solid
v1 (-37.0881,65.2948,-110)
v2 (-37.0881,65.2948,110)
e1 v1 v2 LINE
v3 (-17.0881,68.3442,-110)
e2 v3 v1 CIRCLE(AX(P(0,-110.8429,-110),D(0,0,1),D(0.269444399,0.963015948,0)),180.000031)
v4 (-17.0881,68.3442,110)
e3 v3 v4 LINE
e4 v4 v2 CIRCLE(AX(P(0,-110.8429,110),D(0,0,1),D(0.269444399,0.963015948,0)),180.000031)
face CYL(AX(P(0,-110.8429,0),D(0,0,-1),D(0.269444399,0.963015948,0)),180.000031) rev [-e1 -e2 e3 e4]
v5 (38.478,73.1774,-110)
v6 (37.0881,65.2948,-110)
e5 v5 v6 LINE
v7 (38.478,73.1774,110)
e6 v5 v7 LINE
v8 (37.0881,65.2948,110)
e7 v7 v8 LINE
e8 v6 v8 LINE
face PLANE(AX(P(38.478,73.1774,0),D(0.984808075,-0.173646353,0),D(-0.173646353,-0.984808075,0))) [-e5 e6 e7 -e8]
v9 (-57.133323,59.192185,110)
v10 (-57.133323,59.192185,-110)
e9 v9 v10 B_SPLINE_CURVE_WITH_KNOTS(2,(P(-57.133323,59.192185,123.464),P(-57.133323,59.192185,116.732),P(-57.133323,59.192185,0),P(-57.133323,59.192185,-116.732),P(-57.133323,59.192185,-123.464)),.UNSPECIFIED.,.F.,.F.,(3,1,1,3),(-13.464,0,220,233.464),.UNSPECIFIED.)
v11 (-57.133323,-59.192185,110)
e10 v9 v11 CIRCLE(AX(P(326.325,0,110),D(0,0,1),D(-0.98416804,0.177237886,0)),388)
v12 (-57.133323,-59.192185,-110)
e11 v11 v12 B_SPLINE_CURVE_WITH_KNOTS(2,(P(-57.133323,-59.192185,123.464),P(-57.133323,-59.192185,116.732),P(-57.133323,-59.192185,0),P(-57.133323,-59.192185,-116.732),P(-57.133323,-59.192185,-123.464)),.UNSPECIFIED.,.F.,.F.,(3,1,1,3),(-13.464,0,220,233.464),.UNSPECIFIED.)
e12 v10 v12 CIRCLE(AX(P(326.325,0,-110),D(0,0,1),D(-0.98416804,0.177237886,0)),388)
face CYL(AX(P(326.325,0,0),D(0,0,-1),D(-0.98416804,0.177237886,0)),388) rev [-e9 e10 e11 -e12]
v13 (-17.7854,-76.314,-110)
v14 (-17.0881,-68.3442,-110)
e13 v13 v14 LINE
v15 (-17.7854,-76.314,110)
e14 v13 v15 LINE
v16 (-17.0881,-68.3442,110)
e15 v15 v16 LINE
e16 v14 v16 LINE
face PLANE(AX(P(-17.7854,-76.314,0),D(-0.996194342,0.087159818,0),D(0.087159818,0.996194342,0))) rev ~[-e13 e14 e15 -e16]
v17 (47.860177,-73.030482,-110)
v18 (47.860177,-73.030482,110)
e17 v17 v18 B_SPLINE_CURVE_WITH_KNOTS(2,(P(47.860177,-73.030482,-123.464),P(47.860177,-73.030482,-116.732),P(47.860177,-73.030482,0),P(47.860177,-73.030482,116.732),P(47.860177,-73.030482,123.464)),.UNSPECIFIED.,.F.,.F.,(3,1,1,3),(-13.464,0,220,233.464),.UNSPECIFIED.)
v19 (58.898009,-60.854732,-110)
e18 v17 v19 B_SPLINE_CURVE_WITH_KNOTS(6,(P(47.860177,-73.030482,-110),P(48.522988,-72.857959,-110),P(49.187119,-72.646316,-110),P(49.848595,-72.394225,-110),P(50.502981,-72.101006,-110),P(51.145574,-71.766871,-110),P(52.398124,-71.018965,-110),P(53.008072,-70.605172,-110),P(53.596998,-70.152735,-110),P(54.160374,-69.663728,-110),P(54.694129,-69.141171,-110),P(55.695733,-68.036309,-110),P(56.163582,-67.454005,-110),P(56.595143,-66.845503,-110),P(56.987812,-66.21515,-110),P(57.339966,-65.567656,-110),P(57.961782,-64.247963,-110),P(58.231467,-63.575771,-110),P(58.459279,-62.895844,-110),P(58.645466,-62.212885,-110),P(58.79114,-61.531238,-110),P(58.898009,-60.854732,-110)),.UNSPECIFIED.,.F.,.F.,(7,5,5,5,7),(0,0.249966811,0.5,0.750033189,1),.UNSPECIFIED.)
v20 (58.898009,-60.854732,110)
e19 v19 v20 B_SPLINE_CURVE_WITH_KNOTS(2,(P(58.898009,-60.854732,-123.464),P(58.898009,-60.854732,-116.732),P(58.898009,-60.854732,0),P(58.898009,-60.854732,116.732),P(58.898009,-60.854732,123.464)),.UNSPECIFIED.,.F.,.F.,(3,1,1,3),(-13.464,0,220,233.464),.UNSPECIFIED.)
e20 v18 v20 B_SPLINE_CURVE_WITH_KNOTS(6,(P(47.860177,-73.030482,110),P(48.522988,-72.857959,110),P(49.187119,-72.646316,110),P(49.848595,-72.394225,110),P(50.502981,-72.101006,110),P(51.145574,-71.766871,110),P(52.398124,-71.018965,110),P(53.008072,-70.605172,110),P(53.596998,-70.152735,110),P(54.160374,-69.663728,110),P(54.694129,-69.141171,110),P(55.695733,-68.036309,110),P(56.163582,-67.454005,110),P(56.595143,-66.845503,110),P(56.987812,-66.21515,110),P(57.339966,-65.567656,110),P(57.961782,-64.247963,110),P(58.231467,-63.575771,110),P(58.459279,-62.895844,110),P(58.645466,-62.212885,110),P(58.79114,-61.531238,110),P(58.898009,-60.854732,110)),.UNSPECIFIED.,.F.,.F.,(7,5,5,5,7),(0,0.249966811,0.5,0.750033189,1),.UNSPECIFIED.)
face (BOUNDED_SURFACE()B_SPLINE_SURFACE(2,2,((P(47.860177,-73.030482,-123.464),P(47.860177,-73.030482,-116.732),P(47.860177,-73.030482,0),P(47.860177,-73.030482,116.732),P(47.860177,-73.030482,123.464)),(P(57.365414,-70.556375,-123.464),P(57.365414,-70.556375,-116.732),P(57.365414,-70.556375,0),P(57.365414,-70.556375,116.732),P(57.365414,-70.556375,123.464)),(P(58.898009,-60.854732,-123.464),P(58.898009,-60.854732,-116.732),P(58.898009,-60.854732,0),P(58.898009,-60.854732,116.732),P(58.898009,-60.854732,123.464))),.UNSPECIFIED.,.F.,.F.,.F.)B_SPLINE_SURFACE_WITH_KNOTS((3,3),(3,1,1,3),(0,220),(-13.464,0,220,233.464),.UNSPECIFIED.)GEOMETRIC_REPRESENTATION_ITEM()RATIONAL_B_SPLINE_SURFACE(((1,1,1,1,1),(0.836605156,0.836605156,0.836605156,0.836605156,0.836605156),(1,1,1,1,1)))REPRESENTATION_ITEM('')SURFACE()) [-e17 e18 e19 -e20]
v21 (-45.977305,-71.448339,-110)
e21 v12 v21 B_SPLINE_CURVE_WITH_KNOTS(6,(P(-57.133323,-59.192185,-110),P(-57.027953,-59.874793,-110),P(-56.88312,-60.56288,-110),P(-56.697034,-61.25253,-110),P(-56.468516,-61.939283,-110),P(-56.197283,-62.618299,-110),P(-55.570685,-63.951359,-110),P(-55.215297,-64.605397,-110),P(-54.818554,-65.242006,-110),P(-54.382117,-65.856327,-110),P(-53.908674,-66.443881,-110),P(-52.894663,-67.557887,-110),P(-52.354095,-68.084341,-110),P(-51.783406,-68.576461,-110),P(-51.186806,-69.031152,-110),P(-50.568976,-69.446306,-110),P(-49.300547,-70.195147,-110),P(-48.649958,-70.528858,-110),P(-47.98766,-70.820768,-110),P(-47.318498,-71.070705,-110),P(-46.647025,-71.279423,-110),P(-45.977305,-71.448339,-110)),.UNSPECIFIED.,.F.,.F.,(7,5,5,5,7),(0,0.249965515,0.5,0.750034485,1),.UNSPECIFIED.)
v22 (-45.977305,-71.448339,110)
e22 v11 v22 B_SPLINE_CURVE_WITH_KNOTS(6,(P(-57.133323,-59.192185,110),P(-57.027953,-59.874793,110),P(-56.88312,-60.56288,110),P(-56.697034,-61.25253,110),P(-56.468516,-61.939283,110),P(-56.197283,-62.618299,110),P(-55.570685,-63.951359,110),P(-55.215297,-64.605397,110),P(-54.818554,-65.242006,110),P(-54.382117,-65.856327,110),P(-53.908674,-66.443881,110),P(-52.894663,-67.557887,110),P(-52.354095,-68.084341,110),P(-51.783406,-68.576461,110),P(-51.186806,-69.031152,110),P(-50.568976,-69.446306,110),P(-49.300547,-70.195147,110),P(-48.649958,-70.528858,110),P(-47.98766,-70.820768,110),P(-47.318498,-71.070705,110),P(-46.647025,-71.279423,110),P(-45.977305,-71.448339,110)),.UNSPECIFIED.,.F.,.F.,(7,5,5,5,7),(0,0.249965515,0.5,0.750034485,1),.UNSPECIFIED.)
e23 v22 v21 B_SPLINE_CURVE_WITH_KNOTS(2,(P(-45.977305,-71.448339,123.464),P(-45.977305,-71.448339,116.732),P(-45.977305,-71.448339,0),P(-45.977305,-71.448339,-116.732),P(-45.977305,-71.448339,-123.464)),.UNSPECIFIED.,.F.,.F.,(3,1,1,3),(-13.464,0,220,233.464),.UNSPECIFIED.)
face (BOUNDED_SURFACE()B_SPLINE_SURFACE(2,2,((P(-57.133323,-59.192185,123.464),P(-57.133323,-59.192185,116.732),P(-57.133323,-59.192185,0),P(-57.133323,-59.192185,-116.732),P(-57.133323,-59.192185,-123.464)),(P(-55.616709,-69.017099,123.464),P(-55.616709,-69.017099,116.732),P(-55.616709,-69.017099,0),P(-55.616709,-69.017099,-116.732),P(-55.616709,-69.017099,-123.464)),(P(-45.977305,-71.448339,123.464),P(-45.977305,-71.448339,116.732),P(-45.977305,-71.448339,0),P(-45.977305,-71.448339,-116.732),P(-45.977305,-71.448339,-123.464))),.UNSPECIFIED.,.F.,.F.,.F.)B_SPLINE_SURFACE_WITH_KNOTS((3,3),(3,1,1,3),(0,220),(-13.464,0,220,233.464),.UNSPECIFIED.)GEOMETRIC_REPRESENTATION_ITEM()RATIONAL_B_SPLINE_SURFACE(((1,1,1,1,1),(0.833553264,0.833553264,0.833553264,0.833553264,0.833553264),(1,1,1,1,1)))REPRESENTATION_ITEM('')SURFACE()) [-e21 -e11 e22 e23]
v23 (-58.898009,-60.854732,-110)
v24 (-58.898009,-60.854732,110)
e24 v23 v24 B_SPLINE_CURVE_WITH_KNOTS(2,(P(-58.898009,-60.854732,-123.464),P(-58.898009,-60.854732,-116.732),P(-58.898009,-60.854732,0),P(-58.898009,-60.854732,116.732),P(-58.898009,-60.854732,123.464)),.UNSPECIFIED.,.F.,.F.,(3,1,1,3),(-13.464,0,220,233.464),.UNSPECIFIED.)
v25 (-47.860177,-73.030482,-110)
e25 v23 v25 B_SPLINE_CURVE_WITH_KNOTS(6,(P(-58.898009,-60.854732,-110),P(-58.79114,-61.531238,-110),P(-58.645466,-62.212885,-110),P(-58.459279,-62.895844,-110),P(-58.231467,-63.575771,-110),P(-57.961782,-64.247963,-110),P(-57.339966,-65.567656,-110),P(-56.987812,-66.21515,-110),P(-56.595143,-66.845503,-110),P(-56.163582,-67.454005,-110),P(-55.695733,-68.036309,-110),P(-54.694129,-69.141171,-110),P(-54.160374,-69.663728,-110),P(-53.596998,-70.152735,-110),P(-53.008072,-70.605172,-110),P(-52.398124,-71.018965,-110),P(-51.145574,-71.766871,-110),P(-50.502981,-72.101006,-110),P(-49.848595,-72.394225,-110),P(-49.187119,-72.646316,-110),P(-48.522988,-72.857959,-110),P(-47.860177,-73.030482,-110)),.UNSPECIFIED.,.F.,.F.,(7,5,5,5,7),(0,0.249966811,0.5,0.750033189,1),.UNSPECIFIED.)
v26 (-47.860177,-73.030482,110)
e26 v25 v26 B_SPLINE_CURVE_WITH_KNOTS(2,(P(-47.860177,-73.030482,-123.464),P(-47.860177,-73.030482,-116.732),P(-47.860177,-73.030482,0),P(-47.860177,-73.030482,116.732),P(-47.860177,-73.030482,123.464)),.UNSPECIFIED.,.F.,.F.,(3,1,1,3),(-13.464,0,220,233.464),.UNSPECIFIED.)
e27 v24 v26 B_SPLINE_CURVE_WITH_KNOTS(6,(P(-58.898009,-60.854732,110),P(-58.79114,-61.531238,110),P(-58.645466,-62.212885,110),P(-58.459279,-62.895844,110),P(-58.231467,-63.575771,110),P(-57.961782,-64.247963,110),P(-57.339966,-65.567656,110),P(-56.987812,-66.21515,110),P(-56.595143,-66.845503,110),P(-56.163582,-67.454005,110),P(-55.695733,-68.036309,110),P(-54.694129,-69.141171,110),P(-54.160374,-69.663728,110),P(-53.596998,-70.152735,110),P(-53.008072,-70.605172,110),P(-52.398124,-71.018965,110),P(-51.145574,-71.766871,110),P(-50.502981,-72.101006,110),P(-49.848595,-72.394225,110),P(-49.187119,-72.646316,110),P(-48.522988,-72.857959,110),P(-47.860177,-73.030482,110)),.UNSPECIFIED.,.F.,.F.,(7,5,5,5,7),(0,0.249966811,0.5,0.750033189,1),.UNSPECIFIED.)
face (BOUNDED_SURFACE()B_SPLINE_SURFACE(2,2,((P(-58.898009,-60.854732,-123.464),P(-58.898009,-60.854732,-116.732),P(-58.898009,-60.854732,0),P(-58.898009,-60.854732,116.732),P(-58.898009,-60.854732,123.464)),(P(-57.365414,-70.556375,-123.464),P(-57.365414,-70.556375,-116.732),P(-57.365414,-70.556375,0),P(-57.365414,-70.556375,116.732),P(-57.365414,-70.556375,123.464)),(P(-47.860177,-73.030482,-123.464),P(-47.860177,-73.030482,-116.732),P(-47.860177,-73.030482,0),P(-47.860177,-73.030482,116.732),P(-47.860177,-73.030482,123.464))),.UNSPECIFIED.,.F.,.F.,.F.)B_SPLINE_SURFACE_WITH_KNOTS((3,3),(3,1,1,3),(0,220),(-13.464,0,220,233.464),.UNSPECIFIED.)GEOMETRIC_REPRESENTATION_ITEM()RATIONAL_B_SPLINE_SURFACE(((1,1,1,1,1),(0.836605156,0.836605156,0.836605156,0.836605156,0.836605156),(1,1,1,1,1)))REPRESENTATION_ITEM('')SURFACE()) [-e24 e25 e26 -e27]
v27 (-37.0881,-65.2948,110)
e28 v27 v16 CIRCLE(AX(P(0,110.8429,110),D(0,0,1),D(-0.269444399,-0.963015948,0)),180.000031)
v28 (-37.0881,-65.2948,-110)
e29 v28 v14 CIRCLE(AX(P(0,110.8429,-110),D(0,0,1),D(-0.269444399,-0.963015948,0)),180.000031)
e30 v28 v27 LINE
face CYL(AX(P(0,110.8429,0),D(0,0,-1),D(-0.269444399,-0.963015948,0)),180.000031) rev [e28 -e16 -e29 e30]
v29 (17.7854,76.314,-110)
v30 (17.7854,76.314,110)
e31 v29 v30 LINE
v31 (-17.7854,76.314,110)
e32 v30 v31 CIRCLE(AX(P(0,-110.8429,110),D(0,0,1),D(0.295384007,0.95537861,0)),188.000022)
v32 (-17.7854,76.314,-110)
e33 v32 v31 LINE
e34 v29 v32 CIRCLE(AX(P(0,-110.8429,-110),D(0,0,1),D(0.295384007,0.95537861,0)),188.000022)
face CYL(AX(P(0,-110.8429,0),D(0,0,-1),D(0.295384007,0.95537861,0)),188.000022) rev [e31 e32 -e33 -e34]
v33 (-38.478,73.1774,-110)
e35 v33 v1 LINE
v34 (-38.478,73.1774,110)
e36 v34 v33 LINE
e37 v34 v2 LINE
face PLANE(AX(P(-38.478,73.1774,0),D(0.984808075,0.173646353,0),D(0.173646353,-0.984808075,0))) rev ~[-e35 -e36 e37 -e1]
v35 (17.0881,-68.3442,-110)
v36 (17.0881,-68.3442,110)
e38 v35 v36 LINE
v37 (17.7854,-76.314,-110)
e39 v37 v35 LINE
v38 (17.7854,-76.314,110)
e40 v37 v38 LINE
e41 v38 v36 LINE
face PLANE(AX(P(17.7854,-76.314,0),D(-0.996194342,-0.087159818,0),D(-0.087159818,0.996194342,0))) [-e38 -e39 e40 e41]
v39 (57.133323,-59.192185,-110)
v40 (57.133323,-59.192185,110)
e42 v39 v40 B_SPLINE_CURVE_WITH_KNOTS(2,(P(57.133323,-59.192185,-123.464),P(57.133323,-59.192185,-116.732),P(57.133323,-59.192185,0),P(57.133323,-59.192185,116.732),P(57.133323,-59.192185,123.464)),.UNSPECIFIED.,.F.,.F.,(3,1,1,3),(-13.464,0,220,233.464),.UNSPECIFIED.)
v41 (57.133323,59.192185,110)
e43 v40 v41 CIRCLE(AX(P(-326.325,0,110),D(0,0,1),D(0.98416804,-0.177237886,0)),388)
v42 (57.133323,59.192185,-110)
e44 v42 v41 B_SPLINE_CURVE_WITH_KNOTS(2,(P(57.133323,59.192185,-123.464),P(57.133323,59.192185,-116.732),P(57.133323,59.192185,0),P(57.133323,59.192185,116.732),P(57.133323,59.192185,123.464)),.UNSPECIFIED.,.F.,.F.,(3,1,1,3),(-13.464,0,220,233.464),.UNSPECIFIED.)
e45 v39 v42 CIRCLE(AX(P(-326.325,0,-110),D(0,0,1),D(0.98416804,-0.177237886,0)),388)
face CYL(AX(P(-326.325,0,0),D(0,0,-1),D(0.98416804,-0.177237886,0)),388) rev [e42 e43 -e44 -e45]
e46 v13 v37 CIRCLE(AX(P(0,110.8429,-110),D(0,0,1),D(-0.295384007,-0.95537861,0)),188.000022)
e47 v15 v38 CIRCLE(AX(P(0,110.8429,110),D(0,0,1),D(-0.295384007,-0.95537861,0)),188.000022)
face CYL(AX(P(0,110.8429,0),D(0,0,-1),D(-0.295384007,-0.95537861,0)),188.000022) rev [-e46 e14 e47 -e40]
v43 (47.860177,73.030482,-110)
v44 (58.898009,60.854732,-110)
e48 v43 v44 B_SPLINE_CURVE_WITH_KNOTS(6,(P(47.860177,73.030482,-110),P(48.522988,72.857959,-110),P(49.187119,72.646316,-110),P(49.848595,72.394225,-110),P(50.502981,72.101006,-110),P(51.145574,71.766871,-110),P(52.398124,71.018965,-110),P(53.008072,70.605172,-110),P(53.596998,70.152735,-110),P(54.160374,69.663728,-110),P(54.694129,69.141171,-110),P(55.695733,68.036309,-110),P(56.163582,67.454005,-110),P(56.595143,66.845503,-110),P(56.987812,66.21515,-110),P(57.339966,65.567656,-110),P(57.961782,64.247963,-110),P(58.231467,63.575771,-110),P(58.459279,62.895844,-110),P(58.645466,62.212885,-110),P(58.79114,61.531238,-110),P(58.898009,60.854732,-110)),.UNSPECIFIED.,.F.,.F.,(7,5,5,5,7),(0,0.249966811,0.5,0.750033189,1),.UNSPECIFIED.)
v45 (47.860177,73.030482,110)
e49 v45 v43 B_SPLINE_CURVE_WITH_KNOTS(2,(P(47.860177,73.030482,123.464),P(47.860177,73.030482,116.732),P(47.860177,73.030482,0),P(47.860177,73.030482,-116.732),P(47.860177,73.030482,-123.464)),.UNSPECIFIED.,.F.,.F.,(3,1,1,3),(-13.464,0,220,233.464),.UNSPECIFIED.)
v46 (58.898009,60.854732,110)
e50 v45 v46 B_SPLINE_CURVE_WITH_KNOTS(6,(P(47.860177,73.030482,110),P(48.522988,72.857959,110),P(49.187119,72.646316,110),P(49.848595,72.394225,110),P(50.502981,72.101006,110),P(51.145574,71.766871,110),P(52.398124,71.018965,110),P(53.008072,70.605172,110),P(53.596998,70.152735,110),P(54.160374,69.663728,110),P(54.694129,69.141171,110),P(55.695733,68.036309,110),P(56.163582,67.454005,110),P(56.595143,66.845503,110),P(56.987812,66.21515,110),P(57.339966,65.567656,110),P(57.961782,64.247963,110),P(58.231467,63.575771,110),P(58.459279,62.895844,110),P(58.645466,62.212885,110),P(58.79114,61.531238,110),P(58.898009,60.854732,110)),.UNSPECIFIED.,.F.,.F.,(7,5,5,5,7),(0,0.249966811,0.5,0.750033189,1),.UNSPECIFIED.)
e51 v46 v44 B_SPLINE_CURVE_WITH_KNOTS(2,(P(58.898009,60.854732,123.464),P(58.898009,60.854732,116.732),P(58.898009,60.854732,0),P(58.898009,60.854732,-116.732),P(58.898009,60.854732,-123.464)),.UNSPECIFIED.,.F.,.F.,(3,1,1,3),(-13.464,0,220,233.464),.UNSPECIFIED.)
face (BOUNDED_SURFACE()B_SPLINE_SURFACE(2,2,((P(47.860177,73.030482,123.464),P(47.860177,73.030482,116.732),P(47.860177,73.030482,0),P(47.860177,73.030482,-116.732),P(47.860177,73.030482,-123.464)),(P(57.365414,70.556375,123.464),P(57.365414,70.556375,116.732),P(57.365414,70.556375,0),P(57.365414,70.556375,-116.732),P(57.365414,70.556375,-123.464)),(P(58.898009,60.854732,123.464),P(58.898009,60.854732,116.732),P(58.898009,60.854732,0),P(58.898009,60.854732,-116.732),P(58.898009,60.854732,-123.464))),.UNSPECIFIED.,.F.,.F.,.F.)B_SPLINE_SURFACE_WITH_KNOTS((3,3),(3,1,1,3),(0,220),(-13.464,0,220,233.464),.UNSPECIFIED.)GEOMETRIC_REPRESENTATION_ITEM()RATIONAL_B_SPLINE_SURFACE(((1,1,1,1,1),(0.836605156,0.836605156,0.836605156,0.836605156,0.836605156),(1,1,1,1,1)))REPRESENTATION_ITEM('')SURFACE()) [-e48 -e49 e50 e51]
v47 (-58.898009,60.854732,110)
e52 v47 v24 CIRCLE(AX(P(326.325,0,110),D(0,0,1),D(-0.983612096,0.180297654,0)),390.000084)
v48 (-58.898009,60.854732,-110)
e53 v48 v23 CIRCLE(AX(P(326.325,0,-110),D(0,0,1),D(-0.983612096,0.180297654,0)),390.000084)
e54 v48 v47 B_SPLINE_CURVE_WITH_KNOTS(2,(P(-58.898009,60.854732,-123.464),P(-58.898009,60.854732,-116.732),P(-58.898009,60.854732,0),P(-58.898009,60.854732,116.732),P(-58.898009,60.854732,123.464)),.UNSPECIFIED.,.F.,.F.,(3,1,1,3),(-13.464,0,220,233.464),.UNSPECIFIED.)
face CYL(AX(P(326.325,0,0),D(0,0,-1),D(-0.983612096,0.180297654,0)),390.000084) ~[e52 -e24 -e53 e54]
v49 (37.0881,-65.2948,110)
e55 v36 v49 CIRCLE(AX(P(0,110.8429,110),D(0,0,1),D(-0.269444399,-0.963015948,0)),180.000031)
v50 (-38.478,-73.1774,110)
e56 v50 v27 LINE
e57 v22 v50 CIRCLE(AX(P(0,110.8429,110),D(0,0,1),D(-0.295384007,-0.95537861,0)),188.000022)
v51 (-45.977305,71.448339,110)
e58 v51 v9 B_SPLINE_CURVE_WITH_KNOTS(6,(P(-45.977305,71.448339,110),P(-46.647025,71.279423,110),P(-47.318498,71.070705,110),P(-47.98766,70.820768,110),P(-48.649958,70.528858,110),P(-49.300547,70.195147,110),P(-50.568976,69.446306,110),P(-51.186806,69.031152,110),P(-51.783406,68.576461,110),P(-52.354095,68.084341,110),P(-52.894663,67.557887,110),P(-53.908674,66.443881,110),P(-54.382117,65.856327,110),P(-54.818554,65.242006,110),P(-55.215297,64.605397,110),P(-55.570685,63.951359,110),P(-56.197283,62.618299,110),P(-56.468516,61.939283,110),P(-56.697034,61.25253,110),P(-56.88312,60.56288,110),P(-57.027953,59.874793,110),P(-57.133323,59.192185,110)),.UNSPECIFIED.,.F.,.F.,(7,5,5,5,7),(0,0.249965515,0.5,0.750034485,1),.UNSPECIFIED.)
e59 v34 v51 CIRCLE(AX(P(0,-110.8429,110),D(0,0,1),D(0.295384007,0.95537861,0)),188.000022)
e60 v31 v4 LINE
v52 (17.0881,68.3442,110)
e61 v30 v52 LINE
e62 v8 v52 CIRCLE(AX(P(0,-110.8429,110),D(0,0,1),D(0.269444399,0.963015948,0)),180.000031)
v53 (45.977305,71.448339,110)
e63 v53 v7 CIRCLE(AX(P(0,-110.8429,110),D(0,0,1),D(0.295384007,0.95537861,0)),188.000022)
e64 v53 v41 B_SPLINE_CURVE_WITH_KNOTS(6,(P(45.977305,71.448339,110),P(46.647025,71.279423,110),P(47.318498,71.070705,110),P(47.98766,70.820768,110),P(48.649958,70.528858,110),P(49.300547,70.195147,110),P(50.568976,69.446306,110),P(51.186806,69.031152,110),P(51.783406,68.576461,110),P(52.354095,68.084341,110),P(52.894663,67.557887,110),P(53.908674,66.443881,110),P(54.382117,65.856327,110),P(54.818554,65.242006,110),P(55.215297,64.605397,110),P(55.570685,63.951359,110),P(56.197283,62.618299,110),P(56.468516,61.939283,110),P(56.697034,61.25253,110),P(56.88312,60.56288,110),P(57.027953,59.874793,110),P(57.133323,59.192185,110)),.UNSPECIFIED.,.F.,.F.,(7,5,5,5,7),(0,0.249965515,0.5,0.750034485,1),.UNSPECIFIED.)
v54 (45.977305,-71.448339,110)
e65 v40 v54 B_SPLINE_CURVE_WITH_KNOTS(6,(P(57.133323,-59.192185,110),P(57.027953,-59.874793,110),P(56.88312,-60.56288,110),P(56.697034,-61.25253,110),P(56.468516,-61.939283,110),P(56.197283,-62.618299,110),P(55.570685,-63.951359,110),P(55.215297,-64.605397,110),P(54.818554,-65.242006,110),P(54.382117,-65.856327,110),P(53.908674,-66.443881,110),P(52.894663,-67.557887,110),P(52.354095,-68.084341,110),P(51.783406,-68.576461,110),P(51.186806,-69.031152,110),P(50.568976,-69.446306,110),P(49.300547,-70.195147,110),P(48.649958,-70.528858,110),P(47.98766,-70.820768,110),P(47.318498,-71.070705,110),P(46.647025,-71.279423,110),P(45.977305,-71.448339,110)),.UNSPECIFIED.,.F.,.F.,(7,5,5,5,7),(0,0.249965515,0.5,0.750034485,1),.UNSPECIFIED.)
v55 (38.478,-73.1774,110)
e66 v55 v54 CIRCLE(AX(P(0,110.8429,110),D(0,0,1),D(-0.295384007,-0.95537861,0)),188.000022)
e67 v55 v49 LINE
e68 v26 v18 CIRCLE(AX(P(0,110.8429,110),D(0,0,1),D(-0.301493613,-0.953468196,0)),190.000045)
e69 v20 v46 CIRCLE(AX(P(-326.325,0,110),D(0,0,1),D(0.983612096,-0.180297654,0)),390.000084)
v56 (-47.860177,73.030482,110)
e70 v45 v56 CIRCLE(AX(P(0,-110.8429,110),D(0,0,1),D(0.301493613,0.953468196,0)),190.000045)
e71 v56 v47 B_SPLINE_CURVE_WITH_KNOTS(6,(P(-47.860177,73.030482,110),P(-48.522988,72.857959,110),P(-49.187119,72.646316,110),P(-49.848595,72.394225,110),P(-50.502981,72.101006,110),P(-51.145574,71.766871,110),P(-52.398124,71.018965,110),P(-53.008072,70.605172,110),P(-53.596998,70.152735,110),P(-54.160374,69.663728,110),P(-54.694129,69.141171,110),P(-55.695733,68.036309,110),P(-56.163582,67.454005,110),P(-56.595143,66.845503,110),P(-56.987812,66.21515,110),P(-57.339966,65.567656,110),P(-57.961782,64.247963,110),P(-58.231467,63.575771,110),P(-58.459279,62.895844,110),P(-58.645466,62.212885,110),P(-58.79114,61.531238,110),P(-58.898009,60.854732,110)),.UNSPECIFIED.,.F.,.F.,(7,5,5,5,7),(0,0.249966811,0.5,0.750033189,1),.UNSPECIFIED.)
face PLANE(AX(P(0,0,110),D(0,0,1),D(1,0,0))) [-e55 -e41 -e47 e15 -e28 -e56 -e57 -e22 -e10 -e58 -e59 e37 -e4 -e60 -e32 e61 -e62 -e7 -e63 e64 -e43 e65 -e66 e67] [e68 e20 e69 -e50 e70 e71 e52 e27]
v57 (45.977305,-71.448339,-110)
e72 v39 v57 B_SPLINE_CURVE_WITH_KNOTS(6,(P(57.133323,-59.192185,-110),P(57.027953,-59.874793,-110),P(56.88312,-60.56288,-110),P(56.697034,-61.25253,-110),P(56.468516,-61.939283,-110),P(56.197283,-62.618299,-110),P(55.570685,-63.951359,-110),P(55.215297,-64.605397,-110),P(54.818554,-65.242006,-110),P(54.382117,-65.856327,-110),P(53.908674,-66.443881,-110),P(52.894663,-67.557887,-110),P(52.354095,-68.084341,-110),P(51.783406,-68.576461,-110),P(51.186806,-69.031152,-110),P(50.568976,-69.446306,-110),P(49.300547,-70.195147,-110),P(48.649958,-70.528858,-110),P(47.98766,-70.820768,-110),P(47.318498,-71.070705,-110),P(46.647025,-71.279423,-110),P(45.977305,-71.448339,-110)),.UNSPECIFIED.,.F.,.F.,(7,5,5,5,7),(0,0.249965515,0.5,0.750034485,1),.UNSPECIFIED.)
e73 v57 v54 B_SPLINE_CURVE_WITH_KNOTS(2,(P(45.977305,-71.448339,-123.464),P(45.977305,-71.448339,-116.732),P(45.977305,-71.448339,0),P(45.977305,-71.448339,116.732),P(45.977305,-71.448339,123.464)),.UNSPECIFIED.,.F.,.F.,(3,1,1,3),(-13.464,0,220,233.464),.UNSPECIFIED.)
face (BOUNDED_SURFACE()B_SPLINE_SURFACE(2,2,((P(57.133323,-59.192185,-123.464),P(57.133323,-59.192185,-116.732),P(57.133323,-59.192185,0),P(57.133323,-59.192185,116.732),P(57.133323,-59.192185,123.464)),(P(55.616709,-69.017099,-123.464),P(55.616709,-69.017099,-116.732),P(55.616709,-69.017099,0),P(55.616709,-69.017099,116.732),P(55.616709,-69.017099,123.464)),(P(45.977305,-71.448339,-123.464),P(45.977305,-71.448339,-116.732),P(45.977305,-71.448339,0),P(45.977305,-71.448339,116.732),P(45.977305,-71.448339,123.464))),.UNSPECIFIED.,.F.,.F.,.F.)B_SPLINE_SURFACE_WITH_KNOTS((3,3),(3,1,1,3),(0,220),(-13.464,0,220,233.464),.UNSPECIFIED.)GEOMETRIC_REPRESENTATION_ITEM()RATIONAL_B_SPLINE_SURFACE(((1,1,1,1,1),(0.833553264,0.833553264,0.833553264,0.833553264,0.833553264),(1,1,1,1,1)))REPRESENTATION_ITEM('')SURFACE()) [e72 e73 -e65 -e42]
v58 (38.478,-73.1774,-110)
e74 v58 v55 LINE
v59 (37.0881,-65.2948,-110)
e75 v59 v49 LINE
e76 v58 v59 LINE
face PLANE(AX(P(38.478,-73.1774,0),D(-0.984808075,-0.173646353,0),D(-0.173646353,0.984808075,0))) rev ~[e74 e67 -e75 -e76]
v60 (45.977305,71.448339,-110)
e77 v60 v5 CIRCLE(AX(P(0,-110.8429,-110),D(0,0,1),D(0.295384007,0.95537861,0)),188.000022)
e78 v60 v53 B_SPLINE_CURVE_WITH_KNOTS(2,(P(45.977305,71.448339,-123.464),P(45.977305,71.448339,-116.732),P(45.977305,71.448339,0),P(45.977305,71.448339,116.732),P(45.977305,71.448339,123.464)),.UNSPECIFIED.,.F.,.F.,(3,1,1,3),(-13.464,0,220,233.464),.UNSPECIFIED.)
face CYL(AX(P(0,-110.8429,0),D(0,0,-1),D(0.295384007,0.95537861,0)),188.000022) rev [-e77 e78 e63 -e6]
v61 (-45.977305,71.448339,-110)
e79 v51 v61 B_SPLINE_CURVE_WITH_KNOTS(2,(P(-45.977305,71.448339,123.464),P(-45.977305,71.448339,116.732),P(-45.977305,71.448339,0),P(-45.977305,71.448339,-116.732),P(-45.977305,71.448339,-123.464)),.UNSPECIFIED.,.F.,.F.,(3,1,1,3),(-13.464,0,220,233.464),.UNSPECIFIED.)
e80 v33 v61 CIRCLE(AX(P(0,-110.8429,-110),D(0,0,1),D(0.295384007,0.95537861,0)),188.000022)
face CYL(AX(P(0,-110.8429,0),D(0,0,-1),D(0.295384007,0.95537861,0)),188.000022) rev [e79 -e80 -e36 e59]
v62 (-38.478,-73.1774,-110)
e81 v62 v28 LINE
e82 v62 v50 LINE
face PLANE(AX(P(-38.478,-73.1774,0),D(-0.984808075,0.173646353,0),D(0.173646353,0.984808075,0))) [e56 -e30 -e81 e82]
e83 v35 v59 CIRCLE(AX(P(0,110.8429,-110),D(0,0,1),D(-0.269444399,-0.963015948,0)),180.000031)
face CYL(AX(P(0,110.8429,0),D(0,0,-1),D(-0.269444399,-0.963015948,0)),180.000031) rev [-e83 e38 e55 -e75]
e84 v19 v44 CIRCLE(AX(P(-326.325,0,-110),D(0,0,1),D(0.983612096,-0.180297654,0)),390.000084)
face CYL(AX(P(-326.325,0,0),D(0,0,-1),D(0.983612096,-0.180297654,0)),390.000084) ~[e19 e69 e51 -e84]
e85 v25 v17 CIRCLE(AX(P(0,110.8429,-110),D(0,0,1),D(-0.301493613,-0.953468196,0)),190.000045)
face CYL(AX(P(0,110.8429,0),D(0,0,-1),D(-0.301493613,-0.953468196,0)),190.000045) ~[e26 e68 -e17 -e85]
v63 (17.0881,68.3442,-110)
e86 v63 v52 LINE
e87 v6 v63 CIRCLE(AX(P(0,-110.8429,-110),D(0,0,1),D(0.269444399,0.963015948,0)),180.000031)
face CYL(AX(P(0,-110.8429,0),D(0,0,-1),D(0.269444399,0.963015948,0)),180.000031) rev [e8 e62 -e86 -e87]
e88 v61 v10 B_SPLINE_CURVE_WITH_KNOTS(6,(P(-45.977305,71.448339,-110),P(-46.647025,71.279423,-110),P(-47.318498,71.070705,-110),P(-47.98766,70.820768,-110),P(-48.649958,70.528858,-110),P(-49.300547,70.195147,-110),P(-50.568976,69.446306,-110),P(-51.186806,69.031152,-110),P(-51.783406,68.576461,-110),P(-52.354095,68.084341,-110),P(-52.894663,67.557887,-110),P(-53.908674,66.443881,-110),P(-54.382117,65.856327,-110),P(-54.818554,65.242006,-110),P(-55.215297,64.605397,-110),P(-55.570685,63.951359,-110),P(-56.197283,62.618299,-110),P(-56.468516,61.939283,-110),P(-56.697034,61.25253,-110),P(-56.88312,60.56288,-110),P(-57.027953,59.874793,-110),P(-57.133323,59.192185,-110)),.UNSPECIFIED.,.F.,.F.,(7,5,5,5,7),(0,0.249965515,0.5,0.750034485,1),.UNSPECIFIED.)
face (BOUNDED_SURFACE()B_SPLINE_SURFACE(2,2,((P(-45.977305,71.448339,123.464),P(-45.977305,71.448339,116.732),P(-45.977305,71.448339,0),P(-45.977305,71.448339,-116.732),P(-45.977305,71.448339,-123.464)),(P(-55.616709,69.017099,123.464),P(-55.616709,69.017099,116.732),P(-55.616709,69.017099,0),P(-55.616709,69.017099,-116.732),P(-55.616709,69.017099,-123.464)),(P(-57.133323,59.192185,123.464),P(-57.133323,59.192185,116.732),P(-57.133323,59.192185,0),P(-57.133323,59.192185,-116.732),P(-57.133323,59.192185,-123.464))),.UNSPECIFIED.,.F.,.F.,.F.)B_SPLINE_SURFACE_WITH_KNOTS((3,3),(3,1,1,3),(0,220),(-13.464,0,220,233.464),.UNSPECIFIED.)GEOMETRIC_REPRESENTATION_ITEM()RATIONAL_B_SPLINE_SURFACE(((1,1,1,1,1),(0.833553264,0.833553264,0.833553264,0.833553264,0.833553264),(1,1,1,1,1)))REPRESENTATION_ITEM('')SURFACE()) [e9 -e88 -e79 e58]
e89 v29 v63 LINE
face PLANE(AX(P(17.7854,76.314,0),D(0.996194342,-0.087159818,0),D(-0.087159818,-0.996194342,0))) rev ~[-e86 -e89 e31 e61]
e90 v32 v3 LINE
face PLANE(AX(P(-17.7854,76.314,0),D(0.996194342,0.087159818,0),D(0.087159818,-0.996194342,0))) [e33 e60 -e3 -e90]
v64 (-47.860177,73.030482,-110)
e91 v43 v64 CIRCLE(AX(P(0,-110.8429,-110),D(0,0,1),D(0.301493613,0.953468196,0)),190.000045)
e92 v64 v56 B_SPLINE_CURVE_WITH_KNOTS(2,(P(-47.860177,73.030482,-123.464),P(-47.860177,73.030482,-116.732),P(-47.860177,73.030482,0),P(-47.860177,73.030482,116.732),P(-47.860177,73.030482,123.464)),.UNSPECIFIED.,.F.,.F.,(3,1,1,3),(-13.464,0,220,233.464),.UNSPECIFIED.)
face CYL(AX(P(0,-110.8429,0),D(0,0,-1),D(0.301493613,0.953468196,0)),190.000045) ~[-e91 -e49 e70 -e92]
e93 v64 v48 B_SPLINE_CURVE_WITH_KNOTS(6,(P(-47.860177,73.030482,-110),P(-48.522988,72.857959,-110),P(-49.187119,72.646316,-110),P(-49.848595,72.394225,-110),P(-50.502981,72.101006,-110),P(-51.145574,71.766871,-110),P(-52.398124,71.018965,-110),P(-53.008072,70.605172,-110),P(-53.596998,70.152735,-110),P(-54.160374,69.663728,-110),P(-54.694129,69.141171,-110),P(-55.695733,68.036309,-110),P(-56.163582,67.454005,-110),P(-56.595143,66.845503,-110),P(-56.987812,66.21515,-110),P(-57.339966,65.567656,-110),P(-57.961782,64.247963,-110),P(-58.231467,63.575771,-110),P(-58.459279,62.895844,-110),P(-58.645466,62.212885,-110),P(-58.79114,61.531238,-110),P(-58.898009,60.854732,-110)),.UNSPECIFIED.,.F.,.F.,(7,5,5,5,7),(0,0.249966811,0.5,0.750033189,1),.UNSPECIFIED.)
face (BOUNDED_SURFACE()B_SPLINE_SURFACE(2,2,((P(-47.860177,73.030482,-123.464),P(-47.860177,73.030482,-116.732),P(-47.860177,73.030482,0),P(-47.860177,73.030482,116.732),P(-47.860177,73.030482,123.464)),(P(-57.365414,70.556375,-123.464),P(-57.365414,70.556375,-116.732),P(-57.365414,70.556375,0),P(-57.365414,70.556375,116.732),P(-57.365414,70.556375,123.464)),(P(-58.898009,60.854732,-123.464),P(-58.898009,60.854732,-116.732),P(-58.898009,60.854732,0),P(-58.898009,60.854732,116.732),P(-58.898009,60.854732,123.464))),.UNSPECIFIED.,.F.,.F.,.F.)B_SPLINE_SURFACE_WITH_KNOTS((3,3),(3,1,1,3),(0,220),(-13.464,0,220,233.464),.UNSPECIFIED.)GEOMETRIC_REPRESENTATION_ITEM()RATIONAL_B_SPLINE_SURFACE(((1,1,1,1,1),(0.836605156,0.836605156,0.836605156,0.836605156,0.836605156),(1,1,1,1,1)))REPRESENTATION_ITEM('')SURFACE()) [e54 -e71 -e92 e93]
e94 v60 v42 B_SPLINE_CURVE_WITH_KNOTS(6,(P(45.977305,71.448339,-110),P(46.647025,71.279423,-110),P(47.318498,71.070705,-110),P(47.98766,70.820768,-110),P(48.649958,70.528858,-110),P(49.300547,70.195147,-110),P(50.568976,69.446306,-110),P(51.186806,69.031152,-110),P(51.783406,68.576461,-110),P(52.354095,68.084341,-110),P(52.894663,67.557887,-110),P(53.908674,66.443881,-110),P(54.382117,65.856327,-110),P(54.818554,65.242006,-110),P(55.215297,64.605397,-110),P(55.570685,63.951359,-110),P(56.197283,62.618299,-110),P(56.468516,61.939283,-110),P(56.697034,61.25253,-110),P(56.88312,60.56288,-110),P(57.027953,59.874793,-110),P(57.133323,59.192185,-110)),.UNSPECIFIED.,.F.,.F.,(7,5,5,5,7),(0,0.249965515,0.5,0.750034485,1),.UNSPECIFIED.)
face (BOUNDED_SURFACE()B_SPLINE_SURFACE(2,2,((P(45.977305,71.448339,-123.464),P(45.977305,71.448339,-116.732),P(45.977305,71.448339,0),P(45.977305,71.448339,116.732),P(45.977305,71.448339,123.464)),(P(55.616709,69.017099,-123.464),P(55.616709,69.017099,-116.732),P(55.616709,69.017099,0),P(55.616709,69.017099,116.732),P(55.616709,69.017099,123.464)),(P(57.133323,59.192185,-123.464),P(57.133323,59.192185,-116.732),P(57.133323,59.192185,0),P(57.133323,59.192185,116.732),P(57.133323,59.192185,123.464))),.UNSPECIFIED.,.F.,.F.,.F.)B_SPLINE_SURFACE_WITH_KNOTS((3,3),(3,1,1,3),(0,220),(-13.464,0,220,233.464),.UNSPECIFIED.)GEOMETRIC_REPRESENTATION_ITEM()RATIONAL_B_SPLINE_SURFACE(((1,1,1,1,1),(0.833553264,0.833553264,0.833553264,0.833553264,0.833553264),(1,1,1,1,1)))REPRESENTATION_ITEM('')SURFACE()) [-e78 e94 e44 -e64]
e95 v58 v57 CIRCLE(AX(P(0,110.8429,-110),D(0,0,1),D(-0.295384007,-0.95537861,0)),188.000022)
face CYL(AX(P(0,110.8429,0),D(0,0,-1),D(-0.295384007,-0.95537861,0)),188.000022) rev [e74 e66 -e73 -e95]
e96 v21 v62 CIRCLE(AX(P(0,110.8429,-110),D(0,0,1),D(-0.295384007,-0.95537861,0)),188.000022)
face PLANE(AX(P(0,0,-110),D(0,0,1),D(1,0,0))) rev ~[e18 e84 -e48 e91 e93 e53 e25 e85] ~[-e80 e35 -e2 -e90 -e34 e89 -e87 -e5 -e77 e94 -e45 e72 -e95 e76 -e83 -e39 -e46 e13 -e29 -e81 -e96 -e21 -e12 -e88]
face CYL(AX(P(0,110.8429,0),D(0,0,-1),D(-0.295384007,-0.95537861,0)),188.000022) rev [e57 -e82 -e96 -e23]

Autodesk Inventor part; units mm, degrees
ref_plane "YZ Plane" through (0, 0, 0) normal (1, 0, 0) x (0, 1, 0)
ref_plane "XZ Plane" through (0, 0, 0) normal (0, 1, 0) x (-1, 0, 0)
ref_plane "XY Plane" through (0, 0, 0) normal (0, 0, 1) x (1, 0, 0)
sketch "Sketch1" plane through (0, 0, 0) normal (0, 0, 1) x (1, 0, 0)
  line L0 (-57, -57.5) -> (57, 57.5) construction
  line L1 (-67.5, 67.5) -> (67.5, 67.5) construction
  line L2 (67.5, 67.5) -> (67.5, -67.5) construction
  line L3 (67.5, -67.5) -> (-67.5, -67.5) construction
  line L4 (-67.5, -67.5) -> (-67.5, 67.5) construction
  line L5 (-67.5, 67.5) -> (67.5, -67.5) construction
  line L6 (67.5, 67.5) -> (-67.5, -67.5) construction
  circle A0 centre (-37.5, 37.5) radius 4
  circle A1 centre (-37.5, -37.5) radius 4
  circle A2 centre (37.5, -37.5) radius 4
  circle A3 centre (37.5, 37.5) radius 4
  arc A4 (-48.5, 62.5) -> (-48.5, -62.5) centre (326.325, 0) ccw
  line L7 (0, 67.5) -> (0, -67.5) construction
  line L8 (67.5, -67.5) -> (67.5, 67.5) construction
  arc A5 (48.5, -62.5) -> (48.5, 62.5) centre (-326.325, 0) ccw
  arc A6 (48.5, 62.5) -> (-48.5, 62.5) centre (0, -110.8429) ccw
  line L9 (-67.5, 0) -> (53.675, 0) construction
  arc A7 (-48.5, -62.5) -> (48.5, -62.5) centre (0, 110.8429) ccw
  arc A8 (-30.7003, 46.1842) -> (-30.7003, -46.1842) centre (326.325, 0) ccw
  arc A9 (-30.7003, -46.1842) -> (30.7003, -46.1842) centre (0, 110.8429) ccw
  arc A10 (30.7003, -46.1842) -> (30.7003, 46.1842) centre (-326.325, 0) ccw
  arc A11 (30.7003, 46.1842) -> (-30.7003, 46.1842) centre (0, -110.8429) ccw
  arc A12 (-55.5322, 68.7683) -> (-55.5322, -68.7683) centre (326.325, 0) ccw
  arc A13 (-55.5322, -68.7683) -> (55.5322, -68.7683) centre (0, 110.8429) ccw
  arc A14 (55.5322, -68.7683) -> (55.5322, 68.7683) centre (-326.325, 0) ccw
  arc A15 (55.5322, 68.7683) -> (-55.5322, 68.7683) centre (0, -110.8429) ccw
  arc A16 (-57.2838, 70.3161) -> (-57.2838, -70.3161) centre (326.325, 0) ccw
  arc A17 (-57.2838, -70.3161) -> (57.2838, -70.3161) centre (0, 110.8429) ccw
  arc A18 (57.2838, -70.3161) -> (57.2838, 70.3161) centre (-326.325, 0) ccw
  arc A19 (57.2838, 70.3161) -> (-57.2838, 70.3161) centre (0, -110.8429) ccw
  line L10 (17.7854, 76.314) -> (17.0881, 68.3442)
  line L11 (38.478, 73.1774) -> (37.0881, 65.2948)
  line L12 (-17.7854, 76.314) -> (-17.0881, 68.3442)
  line L13 (-38.478, 73.1774) -> (-37.0881, 65.2948)
  line L14 (17.7854, -76.314) -> (17.0881, -68.3442)
  line L15 (38.478, -73.1774) -> (37.0881, -65.2948)
  line L16 (-38.478, -73.1774) -> (-37.0881, -65.2948)
  line L17 (-17.7854, -76.314) -> (-17.0881, -68.3442)
  point P0 (0, 0)
  point P1 (0, 0)
  point P2 (-53.675, 0)
  point P3 (0, 0)
  dimension "d3" = 135
  dimension "d4" = 135
  dimension "d5" = 8
  dimension "d9" = 360
  dimension "d29" = 75
  dimension "d30" = 125
  dimension "d31" = 97
  dimension "d32" = 180
  dimension "d33" = 380
  dimension "d34" = 20
  dimension "d36" = 8
  dimension "d37" = 2
  dimension "d38" = 5
  dimension "d39" = 20
  dimension "d41" = 5
extrude "Extrusion1" add sketch "Sketch1" along normal mid plane 220 contours L13 A15 L12 A6 | A7 L17 A13 L16 | L10 A15 L11 A6 | A7 L15 A13 L14 | A19 A18 A17 A16
fillet "Fillet2" radius 15 8 edges at (57.2838, 70.3161, 0) (-57.2838, 70.3161, 0) (-57.2838, -70.3161, 0) (57.2838, -70.3161, 0) (55.5322, -68.7683, 0) (-55.5322, -68.7683, 0) (-55.5322, 68.7683, 0) (55.5322, 68.7683, 0)
properties part number "lineaire as deel 2" material "Aluminum 6061"
